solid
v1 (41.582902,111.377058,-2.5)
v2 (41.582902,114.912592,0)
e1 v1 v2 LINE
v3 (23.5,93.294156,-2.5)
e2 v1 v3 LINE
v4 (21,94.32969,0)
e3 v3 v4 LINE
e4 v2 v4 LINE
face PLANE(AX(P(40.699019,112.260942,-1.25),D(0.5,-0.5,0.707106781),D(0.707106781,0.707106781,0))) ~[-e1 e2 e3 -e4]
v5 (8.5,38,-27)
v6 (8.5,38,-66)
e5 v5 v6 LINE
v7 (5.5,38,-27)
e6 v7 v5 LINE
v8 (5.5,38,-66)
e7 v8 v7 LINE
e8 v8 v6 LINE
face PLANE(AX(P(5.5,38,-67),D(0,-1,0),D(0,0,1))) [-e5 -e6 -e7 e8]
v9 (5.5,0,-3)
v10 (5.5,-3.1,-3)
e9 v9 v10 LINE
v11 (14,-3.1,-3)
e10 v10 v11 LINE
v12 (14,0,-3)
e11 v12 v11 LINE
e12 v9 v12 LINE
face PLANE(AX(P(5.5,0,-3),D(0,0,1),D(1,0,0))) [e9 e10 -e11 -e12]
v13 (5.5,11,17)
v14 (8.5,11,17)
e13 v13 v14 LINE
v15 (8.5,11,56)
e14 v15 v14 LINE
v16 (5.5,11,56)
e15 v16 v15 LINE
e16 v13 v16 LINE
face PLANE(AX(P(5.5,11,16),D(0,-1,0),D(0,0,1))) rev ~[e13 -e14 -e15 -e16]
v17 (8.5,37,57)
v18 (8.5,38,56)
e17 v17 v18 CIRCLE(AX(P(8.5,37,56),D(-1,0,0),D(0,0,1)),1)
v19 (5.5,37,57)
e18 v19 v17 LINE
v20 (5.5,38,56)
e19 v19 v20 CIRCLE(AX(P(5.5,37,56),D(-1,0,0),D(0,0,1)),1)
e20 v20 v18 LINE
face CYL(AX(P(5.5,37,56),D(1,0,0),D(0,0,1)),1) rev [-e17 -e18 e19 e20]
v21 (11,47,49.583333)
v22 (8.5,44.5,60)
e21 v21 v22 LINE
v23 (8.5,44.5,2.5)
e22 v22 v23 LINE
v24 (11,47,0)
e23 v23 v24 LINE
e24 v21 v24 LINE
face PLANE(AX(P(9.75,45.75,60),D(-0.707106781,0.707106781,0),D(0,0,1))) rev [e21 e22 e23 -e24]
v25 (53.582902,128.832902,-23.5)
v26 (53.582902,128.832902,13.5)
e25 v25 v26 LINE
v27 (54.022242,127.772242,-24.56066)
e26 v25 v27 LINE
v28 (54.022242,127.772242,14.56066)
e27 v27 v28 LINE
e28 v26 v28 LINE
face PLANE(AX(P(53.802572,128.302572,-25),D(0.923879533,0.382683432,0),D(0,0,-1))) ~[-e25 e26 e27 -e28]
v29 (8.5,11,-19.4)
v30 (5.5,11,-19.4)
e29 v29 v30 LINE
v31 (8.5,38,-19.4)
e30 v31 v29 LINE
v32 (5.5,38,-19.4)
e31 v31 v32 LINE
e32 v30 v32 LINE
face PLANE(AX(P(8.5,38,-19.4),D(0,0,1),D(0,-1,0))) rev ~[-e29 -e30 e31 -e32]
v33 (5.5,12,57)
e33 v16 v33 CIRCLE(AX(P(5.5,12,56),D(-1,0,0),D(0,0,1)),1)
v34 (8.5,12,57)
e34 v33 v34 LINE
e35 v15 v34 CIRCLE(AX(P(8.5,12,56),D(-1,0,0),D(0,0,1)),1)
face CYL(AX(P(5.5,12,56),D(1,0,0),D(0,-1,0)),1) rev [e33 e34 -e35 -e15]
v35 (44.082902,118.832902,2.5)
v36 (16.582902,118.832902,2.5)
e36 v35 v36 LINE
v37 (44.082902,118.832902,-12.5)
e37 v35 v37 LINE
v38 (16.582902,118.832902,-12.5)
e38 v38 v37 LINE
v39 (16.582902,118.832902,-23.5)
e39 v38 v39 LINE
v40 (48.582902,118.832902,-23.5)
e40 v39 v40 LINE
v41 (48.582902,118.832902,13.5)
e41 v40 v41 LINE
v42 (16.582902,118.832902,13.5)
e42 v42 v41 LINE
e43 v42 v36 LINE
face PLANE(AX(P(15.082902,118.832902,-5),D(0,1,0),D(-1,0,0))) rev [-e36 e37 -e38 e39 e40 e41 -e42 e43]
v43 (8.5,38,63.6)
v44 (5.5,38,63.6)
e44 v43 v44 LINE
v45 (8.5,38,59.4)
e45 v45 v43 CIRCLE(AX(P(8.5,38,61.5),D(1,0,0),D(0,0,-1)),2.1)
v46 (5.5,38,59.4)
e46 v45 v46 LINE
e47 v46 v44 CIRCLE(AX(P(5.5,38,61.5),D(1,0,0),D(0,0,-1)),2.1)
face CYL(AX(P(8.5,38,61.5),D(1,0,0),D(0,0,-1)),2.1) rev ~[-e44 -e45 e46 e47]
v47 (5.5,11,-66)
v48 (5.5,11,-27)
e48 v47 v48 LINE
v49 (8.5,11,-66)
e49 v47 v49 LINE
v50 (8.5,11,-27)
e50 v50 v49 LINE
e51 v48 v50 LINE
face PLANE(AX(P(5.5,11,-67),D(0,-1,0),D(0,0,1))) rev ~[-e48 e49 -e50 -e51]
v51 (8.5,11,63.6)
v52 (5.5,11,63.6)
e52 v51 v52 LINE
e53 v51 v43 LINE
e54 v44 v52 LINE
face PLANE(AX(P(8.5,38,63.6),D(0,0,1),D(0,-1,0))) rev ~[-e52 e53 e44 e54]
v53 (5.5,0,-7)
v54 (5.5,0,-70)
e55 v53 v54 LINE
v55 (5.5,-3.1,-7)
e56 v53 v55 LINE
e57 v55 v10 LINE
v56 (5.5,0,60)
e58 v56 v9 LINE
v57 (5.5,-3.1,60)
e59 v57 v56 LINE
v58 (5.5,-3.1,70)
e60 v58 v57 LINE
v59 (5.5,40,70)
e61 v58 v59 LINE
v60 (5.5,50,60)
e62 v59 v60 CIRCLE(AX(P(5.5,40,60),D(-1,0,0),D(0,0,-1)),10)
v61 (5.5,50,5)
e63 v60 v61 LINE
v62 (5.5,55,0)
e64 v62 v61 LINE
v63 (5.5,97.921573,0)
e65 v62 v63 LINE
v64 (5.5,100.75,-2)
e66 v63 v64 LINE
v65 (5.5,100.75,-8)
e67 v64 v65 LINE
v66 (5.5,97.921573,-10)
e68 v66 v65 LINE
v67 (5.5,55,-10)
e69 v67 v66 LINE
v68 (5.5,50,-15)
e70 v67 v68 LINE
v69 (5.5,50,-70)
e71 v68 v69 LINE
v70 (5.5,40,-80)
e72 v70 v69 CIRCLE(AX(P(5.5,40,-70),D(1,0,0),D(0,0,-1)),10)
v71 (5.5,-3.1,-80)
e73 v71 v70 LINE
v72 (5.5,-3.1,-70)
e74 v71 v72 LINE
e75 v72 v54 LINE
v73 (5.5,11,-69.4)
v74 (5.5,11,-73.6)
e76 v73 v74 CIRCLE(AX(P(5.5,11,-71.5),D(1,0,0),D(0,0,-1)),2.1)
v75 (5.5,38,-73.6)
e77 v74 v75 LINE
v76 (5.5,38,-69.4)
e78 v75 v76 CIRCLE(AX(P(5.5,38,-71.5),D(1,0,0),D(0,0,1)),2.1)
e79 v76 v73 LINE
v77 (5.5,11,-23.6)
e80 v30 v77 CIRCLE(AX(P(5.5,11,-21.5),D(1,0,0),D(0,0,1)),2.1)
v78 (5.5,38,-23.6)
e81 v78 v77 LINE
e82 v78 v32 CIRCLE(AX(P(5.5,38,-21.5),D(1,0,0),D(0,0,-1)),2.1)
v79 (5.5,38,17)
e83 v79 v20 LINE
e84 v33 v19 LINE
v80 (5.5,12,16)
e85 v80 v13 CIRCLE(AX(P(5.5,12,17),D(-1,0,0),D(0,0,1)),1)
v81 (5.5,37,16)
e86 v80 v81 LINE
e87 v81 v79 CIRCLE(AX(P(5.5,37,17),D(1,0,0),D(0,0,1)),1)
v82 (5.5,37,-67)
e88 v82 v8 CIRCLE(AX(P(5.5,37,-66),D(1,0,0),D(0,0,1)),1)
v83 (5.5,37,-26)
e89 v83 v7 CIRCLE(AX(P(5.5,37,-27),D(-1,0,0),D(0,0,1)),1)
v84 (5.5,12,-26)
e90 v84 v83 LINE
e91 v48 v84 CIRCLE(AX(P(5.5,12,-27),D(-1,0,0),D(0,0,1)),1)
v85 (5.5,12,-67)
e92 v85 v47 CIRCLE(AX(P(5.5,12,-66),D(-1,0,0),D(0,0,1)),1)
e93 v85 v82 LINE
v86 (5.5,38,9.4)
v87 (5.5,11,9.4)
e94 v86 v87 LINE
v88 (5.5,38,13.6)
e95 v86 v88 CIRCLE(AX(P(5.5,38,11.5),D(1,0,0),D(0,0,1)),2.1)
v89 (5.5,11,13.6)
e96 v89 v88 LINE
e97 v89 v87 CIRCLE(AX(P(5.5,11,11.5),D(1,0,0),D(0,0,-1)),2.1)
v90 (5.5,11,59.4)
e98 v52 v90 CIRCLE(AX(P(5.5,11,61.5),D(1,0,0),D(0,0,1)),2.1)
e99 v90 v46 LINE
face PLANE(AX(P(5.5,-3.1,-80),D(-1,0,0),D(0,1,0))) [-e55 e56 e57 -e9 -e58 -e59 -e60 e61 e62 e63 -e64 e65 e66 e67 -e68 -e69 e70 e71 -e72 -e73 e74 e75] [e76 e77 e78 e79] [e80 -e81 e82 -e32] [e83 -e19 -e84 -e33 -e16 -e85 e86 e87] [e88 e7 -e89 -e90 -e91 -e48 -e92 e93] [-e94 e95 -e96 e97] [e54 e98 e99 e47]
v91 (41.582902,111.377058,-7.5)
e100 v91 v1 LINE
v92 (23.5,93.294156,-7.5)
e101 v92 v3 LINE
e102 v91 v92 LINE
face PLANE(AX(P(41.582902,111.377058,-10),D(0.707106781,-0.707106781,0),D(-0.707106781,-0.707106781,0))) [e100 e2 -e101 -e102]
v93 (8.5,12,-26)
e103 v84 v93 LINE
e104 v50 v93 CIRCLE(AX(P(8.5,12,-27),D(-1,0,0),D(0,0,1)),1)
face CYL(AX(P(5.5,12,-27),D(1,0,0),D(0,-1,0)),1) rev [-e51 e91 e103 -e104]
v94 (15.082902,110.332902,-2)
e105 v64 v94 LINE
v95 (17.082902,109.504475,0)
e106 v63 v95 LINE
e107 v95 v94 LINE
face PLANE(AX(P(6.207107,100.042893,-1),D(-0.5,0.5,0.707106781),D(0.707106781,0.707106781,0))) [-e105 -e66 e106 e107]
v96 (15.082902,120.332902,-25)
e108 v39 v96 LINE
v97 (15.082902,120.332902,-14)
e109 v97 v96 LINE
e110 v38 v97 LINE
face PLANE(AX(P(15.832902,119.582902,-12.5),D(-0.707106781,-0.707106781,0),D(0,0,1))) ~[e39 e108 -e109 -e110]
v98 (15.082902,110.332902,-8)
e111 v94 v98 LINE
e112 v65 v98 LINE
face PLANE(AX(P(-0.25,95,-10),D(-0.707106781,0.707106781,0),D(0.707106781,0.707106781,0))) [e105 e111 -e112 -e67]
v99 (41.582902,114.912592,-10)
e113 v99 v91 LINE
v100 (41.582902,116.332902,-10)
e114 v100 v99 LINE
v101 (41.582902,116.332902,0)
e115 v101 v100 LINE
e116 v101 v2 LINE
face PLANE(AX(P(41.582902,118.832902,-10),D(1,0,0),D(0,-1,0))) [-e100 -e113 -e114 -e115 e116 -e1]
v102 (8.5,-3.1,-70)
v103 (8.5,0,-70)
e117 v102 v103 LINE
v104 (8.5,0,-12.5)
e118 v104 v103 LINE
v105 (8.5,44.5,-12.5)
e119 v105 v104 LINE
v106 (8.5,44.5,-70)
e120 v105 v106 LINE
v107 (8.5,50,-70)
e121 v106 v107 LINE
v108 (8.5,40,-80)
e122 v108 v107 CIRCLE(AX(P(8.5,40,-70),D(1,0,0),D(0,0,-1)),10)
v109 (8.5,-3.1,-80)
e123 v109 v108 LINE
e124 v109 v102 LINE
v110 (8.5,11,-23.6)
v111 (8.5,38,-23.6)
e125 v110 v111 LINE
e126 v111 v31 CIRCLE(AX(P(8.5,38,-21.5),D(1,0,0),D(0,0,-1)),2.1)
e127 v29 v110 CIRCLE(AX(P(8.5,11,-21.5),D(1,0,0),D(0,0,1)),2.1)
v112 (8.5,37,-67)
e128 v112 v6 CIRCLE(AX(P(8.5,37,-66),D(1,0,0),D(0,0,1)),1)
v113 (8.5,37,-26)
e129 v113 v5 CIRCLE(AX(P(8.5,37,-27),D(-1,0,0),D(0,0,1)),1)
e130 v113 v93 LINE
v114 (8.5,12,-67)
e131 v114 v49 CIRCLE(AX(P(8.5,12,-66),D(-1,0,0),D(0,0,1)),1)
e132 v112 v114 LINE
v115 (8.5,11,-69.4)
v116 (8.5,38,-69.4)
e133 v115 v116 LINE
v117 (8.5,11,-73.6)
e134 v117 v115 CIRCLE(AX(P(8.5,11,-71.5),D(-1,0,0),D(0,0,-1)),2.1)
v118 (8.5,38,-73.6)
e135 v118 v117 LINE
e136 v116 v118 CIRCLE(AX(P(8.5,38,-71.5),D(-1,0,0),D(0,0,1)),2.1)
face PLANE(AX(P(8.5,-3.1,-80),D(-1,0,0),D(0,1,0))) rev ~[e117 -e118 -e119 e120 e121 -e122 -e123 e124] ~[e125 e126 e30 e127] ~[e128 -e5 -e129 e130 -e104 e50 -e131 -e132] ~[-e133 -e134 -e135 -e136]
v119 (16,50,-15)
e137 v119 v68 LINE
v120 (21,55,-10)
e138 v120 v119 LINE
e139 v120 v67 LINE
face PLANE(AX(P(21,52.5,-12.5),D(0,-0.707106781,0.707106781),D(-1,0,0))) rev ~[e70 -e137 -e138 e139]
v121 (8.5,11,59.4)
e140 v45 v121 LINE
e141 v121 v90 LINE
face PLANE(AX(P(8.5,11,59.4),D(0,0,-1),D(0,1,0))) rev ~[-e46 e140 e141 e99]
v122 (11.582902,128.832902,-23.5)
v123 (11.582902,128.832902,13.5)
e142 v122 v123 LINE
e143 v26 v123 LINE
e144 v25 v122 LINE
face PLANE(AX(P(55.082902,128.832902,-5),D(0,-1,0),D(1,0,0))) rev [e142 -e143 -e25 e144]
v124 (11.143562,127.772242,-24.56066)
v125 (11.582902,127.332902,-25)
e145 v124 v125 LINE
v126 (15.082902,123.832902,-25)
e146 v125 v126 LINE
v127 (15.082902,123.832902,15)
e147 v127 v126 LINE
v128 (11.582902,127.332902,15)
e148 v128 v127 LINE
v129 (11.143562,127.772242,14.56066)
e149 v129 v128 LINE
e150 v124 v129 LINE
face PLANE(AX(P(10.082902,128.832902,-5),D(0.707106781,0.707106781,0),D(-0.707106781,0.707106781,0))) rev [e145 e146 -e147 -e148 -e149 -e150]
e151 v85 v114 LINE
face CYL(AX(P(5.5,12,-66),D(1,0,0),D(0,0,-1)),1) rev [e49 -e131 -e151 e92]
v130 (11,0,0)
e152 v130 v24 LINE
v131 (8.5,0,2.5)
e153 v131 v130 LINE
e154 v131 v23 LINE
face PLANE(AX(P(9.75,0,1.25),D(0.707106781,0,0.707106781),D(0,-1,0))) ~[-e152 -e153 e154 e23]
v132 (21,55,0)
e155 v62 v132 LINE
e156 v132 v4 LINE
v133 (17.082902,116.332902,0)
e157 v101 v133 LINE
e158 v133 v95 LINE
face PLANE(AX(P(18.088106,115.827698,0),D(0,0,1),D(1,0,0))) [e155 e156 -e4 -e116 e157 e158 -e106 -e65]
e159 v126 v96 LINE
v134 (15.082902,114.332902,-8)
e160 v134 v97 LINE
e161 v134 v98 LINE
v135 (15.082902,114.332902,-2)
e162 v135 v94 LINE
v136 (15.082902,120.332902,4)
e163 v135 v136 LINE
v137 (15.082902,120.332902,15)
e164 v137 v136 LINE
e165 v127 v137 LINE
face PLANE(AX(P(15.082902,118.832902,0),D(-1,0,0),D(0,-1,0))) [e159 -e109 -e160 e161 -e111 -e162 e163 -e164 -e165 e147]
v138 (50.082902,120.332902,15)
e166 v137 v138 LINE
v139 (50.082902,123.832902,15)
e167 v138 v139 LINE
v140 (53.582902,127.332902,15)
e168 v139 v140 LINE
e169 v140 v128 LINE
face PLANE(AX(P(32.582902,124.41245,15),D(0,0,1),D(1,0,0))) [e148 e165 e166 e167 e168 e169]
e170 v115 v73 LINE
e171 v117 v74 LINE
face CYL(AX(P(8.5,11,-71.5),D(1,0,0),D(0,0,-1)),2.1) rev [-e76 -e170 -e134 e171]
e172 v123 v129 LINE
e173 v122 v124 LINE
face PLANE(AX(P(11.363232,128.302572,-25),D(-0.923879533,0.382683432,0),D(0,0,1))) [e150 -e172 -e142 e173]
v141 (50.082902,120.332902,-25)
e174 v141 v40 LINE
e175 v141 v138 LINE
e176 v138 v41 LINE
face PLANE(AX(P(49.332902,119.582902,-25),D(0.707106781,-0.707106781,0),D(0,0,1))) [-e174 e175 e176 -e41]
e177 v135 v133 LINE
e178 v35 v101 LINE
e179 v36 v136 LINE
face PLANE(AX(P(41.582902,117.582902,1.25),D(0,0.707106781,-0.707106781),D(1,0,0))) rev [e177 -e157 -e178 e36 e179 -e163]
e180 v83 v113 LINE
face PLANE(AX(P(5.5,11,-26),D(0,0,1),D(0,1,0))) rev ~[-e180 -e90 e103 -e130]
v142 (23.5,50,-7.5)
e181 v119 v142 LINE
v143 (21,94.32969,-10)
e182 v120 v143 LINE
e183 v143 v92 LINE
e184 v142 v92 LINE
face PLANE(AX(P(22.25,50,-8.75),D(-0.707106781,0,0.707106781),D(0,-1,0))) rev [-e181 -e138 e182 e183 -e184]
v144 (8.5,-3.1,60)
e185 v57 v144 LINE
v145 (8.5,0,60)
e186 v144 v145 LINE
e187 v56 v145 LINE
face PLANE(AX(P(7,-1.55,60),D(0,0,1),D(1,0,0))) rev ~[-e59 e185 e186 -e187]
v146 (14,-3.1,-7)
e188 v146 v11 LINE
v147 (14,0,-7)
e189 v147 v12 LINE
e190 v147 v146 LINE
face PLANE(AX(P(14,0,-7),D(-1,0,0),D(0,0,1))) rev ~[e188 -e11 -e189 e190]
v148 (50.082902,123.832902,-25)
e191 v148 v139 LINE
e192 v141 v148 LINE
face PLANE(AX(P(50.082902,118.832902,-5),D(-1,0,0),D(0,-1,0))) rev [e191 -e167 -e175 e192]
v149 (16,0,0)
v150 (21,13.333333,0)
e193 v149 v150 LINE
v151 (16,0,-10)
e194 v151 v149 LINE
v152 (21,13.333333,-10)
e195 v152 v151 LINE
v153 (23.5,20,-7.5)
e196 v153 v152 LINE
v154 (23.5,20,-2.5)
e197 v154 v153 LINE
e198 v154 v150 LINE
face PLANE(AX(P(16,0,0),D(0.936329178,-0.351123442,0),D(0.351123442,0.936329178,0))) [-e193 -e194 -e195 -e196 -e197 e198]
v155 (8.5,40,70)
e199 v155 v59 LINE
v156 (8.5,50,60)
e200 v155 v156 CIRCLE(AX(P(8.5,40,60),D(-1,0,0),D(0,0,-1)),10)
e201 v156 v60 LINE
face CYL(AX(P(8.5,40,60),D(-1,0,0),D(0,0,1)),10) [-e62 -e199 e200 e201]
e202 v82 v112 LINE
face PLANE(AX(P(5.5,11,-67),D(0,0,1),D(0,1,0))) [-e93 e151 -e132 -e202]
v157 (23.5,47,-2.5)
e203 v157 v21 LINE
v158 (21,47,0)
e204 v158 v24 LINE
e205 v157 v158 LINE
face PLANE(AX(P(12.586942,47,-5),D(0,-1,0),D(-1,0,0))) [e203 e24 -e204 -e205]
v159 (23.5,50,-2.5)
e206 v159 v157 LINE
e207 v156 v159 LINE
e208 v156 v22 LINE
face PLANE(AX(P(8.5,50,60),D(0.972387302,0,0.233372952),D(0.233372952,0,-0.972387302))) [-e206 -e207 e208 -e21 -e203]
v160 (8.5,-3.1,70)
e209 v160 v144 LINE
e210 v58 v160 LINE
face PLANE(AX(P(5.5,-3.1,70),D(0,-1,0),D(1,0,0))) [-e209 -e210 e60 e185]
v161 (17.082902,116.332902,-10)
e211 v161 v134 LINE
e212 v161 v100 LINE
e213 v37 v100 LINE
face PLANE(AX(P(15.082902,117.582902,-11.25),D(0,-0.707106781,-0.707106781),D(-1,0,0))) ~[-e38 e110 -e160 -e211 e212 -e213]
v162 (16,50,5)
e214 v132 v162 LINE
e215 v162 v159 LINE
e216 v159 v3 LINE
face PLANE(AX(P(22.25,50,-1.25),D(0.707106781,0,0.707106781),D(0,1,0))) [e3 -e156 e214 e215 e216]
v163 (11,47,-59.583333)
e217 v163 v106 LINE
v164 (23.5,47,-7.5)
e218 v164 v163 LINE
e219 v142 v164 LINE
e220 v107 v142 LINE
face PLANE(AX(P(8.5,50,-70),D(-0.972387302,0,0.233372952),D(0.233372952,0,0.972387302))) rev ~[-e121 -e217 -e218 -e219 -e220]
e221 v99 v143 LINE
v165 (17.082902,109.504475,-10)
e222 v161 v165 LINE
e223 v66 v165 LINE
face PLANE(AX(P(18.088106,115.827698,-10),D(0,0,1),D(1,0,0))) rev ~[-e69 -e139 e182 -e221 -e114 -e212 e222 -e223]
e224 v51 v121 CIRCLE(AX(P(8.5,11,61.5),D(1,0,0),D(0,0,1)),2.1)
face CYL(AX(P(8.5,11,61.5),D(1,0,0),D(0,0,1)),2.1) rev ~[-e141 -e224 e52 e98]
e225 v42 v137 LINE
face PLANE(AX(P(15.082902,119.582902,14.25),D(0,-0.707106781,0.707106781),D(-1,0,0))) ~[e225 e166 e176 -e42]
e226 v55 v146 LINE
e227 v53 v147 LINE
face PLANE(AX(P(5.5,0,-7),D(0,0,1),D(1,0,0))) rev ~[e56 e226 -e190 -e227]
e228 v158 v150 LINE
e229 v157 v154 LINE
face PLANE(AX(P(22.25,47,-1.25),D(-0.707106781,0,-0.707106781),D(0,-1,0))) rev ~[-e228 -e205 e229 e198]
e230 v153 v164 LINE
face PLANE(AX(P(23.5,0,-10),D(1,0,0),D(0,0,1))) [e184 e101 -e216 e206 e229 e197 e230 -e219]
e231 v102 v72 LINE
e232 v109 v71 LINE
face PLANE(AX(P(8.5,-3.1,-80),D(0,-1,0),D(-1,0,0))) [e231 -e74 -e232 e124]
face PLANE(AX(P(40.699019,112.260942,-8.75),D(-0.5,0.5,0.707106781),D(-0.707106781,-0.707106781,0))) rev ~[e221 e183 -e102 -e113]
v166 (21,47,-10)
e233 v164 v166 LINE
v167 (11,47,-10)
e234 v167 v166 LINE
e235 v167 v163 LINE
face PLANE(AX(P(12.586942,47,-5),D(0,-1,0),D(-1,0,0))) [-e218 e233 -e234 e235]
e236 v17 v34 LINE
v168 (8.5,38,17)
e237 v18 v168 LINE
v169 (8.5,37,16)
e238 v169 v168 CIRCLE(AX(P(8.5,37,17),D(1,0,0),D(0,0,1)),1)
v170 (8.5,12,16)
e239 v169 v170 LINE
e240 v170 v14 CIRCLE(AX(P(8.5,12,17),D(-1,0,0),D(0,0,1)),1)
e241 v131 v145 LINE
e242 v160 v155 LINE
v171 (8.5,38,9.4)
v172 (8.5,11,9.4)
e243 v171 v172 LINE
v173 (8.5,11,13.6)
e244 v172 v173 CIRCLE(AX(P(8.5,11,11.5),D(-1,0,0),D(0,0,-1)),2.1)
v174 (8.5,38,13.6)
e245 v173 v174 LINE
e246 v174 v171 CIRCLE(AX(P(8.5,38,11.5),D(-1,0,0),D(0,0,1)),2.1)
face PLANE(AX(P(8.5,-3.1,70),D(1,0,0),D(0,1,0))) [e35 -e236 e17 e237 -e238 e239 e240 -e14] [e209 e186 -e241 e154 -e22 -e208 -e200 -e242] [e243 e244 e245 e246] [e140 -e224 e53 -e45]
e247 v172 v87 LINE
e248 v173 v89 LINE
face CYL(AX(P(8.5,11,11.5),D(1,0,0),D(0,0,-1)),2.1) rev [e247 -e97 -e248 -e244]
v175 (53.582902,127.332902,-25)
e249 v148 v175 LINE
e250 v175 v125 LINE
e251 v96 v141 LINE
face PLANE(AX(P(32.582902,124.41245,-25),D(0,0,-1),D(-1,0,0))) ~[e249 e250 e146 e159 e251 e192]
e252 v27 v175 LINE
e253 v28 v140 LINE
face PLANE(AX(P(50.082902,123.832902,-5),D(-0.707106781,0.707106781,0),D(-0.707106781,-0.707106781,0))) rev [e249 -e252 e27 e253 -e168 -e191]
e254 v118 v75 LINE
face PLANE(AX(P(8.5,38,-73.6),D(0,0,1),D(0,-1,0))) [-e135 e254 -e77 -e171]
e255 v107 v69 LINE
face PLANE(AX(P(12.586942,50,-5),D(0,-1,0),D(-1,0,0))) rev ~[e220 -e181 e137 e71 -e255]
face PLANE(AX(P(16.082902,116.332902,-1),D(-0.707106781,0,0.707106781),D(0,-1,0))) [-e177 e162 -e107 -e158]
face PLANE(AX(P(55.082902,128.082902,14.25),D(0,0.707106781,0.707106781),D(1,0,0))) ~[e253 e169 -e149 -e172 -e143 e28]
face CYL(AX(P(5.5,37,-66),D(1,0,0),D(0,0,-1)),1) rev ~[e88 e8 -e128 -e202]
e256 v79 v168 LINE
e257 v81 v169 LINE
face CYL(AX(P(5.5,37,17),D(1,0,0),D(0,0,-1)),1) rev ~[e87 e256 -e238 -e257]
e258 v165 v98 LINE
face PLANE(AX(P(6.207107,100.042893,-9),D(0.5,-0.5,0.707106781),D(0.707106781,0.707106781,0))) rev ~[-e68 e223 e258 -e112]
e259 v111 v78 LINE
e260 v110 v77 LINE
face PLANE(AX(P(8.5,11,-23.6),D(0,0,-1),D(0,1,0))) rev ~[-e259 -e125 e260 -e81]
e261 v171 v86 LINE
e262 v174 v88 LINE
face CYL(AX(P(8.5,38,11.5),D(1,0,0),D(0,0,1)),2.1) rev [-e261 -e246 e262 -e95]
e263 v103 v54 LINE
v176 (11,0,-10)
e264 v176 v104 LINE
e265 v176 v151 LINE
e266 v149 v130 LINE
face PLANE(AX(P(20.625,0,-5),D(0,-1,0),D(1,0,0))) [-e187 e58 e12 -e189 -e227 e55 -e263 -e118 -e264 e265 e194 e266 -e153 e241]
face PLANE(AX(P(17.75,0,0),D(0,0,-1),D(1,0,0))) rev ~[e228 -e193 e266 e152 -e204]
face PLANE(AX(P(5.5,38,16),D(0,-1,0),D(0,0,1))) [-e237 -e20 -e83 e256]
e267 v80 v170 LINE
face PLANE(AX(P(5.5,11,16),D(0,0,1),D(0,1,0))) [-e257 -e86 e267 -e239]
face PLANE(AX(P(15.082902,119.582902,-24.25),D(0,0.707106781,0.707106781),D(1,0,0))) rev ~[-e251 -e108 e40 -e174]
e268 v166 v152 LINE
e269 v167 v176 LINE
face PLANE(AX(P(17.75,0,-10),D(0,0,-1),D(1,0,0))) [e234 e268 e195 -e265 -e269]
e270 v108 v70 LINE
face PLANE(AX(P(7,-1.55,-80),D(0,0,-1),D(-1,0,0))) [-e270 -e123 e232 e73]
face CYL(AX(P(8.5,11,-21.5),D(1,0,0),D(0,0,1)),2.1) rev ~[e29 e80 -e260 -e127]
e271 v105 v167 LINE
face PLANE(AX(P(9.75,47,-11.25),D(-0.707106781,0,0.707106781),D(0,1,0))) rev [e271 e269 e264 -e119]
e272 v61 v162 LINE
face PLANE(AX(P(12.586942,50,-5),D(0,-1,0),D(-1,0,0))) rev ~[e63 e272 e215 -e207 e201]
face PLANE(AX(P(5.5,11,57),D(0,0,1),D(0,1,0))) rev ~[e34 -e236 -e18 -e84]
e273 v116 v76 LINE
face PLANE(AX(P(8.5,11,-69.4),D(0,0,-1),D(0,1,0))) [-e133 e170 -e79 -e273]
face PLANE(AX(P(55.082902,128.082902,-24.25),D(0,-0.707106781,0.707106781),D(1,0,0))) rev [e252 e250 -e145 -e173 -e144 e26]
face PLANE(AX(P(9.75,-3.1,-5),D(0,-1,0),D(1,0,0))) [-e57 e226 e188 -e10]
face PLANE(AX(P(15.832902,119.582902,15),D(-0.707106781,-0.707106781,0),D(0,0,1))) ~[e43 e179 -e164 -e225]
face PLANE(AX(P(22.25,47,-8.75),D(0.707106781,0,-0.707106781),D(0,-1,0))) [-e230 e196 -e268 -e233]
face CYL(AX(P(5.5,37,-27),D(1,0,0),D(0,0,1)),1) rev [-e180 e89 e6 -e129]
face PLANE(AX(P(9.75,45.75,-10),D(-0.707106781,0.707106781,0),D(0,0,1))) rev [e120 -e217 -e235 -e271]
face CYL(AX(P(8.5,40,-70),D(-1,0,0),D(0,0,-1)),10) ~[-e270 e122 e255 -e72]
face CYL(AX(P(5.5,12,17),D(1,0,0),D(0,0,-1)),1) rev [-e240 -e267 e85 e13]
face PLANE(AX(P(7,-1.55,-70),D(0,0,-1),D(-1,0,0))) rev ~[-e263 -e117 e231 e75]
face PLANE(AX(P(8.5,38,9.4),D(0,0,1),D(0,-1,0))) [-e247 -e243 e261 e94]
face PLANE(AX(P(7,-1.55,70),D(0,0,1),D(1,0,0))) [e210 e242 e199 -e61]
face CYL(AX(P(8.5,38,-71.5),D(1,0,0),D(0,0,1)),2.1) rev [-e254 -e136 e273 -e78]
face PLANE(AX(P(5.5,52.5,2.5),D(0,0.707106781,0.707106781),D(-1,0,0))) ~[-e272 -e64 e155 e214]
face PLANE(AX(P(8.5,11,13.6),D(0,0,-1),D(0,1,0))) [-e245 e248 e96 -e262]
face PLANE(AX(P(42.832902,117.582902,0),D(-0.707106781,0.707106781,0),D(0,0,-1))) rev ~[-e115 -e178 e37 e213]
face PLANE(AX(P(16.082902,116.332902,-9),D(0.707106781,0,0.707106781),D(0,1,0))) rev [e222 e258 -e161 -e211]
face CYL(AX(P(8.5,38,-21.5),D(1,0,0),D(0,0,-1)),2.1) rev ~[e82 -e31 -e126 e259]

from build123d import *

# Parameters (mm, degrees)
SKETCH_2_W              = 17.5
SKETCH_2_H              = 10
EXTRUDE_1_DEPTH         = 125
SKETCH_3_W              = 50
SKETCH_3_H              = 30
EXTRUDE_2_DEPTH         = 7.5
CHAMFER_1_SIZE          = 1
EXTRUDE_3_DEPTH         = 17.5
CHAMFER_2_SIZE          = 2
CHAMFER_3_SIZE          = 2
SKETCH_6_W              = 10
SKETCH_6_H              = 3
EXTRUDE_4_DEPTH         = 3.1
SKETCH_7_W              = 70
SKETCH_7_H              = 50
EXTRUDE_5_DEPTH         = 3.25
SKETCH_15_W             = 70
SKETCH_15_H             = 50
CUT_EXTRUDE_7_DEPTH     = 0.25
SKETCH_16_W             = 41
SKETCH_16_H             = 27
CUT_EXTRUDE_8_DEPTH     = 39.25
CHAMFER_7_SIZE          = 2
FILLET_1_R              = 1
FILLET_2_R              = 10
EXTRUDE_7_DEPTH         = 3
SKETCH_19_W             = 101.779204681
SKETCH_19_H             = 48.287293129
CUT_EXTRUDE_10_DEPTH    = 7.5
SKETCH_21_W             = 30
SKETCH_21_H             = 50
EXTRUDE_8_DEPTH         = 10
EXTRUDE_9_DEPTH         = 50
SKETCH_24_W             = 6
SKETCH_24_H             = 6
EXTRUDE_10_DEPTH        = 2
CUT_EXTRUDE_11_DEPTH    = 44
CHAMFER_9_SIZE          = 3
SKETCH_27_R             = 3.5
CUT_EXTRUDE_13_DEPTH    = 31
SKETCH_28_W             = 121.830720906
SKETCH_28_H             = 94.628612201
CUT_EXTRUDE_14_DEPTH    = 75
SKETCH_29_W             = 31.647498983
SKETCH_29_H             = 23.6528393
CUT_EXTRUDE_15_DEPTH    = 75
SKETCH_30_W             = 23.6528393
SKETCH_30_H             = 50
EXTRUDE_11_DEPTH        = 3
SKETCH_31_W             = 12.609658301
SKETCH_31_H             = 23.6528393
EXTRUDE_12_DEPTH        = 3
SKETCH_33_W             = 17.8
SKETCH_33_H             = 10
EXTRUDE_13_DEPTH        = 50
SKETCH_34_W             = 10
SKETCH_34_H             = 35
CUT_EXTRUDE_16_DEPTH    = 5.75
EXTRUDE_15_DEPTH        = 10
CUT_EXTRUDE_17_DEPTH    = 37
SKETCH_38_W             = 26
SKETCH_38_H             = 99.175
EXTRUDE_16_DEPTH        = 4
CHAMFER_11_SIZE         = 1
CHAMFER_11_EDGE_2_SIZE  = 1
CHAMFER_11_EDGE_3_SIZE2 = 0.707106781
CHAMFER_11_EDGE_3_SIZE  = 1
CHAMFER_11_EDGE_4_SIZE2 = 1
CHAMFER_11_EDGE_4_SIZE  = 0.707106781
SKETCH_40_W             = 14.8
SKETCH_40_H             = 10
CUT_EXTRUDE_18_DEPTH    = 180
SKETCH_41_W             = 58.425807109
SKETCH_41_H             = 132.043018415
CUT_EXTRUDE_19_DEPTH    = 180
SKETCH_43_W             = 42.288790166
SKETCH_43_H             = 33.906174504
CUT_EXTRUDE_20_DEPTH    = 180
SKETCH_44_W             = 60.210135913
SKETCH_44_H             = 20.917157606
CUT_EXTRUDE_21_DEPTH    = 180
SKETCH_45_W             = 2
SKETCH_45_H             = 38
CUT_EXTRUDE_22_DEPTH    = 180
SKETCH_46_W             = 19.341721819
SKETCH_46_H             = 130
CUT_EXTRUDE_23_DEPTH    = 3
EXTRUDE_17_DEPTH        = 3
SKETCH_48_W             = 15
SKETCH_48_H             = 10
CUT_EXTRUDE_24_DEPTH    = 7
SKETCH_50_W             = 23.75
SKETCH_50_H             = 10
EXTRUDE_18_DEPTH        = 90
EXTRUDE_19_DEPTH        = 10
SKETCH_53_W             = 5.75
SKETCH_53_H             = 10
EXTRUDE_20_DEPTH        = 106
SKETCH_55_W             = 5.75
SKETCH_55_H             = 10
CUT_EXTRUDE_25_DEPTH    = 106
EXTRUDE_21_DEPTH        = 20
CUT_EXTRUDE_26_DEPTH    = 20
EXTRUDE_22_DEPTH        = 10
CHAMFER_14_SIZE         = 2.5
CHAMFER_15_SIZE         = 2.5
CHAMFER_16_SIZE         = 1.5
CHAMFER_17_SIZE         = 1.5
CUT_EXTRUDE_27_DEPTH    = 10
CHAMFER_18_SIZE         = 5
SKETCH_62_W             = 2.25
SKETCH_62_H             = 3
EXTRUDE_24_DEPTH        = 3.1
SKETCH_63_W             = 1.75
SKETCH_63_H             = 3
CUT_EXTRUDE_28_DEPTH    = 3.1
SKETCH_64_W             = 10.5
SKETCH_64_H             = 3
CUT_EXTRUDE_29_DEPTH    = 3.1
CHAMFER_19_SIZE         = 2
SKETCH_65_W             = 3
SKETCH_65_H             = 3.1
EXTRUDE_25_DEPTH        = 10
SKETCH_66_W             = 3
SKETCH_66_H             = 3.1
EXTRUDE_26_DEPTH        = 10
SKETCH_67_W             = 8.5
SKETCH_67_H             = 4
EXTRUDE_27_DEPTH        = 3.1


with BuildPart() as part:
    # Sketch 2 → Extrude 1 (new body)
    with BuildSketch(Plane(origin=(0, 0, 0), x_dir=(1, 0, 0), z_dir=(0, 1, 0))):
        with Locations((8.75, 5)):
            Rectangle(SKETCH_2_W, SKETCH_2_H)
    extrude(amount=EXTRUDE_1_DEPTH)

    # Sketch 3 → Extrude 2 (add)
    with BuildSketch(Plane(origin=(0, 125, 0), x_dir=(1, 0, 0), z_dir=(0, 1, 0))):
        with Locations((8.75, 5)):
            Rectangle(SKETCH_3_W, SKETCH_3_H)
    extrude(amount=EXTRUDE_2_DEPTH)

    # Chamfer 1
    chamfer_1_edges = [part.edges().sort_by_distance(p)[0] for p in [
        (33.75, 132.5, -5),
        (8.75, 132.5, -20),
        (-16.25, 132.5, -5),
        (8.75, 132.5, 10),
    ]]
    chamfer(chamfer_1_edges, length=CHAMFER_1_SIZE)

    # Sketch 5 → Extrude 3 (add)
    with BuildSketch(Plane(origin=(17.5, 0, 0), x_dir=(0, 0, -1), z_dir=(1, 0, 0))):
        Polygon((10, 125), (20, 125), (10, 110), align=None)
        Polygon((0, 125), (-10, 125), (0, 110), align=None)
    extrude(amount=-EXTRUDE_3_DEPTH)

    # Chamfer 2
    chamfer_2_edges = [part.edges().sort_by_distance(p)[0] for p in [
        (-8.125, 125, -20),
        (33.75, 125, -5),
        (-16.25, 125, -5),
        (-8.125, 125, 10),
        (25.625, 125, -20),
        (25.625, 125, 10),
    ]]
    chamfer(chamfer_2_edges, length=CHAMFER_2_SIZE)

    # Chamfer 3
    chamfer_3_edges = [part.edges().sort_by_distance(p)[0] for p in [
        (0, 55, -10),
        (17.5, 55, -10),
        (17.5, 55, 0),
        (0, 55, 0),
    ]]
    chamfer(chamfer_3_edges, length=CHAMFER_3_SIZE)

    # Sketch 6 → Extrude 4 (add)
    with BuildSketch(Plane.XZ):
        with Locations((8.75, -5)):
            Rectangle(SKETCH_6_W, SKETCH_6_H)
    extrude(amount=EXTRUDE_4_DEPTH)

    # Sketch 7 → Extrude 5 (add)
    with BuildSketch(Plane.ZY.offset(-8.75)):
        with Locations((-45, 25)):
            Rectangle(SKETCH_7_W, SKETCH_7_H)
    extrude_5 = extrude(amount=EXTRUDE_5_DEPTH)

    # Mirror 1: Extrude 5 across plane
    add(extrude_5.mirror(Plane(origin=(0, 0, -5), x_dir=(1, 0, 0), z_dir=(0, 0, -1))))

    # Sketch 15 → Cut-Extrude 7 (cut)
    with BuildSketch(Plane(origin=(8.75, 0, 0), x_dir=(0, 0, -1), z_dir=(1, 0, 0))):
        with Locations((-35, 25)):
            Rectangle(SKETCH_15_W, SKETCH_15_H)
        with Locations((45, 25)):
            Rectangle(SKETCH_15_W, SKETCH_15_H)
    extrude(amount=-CUT_EXTRUDE_7_DEPTH, mode=Mode.SUBTRACT)

    # Sketch 16 → Cut-Extrude 8 (cut)
    with BuildSketch(Plane.ZY.offset(-5.5)):
        with Locations((-46.5, 24.5)):
            Rectangle(SKETCH_16_W, SKETCH_16_H)
        with Locations((36.5, 24.5)):
            Rectangle(SKETCH_16_W, SKETCH_16_H)
    extrude(amount=-CUT_EXTRUDE_8_DEPTH, mode=Mode.SUBTRACT)

    # Chamfer 7
    chamfer_7_edges = [part.edges().sort_by_distance(p)[0] for p in [
        (5.5, 25, -10),
        (5.5, 25, 0),
        (8.5, 25, 0),
        (8.5, 25, -10),
    ]]
    chamfer(chamfer_7_edges, length=CHAMFER_7_SIZE)

    # Fillet 1
    fillet_1_edges = [part.edges().sort_by_distance(p)[0] for p in [
        (7, 38, -26),
        (7, 11, -26),
        (7, 11, -67),
        (7, 38, -67),
        (7, 11, 16),
        (7, 38, 16),
        (7, 38, 57),
        (7, 11, 57),
    ]]
    fillet(fillet_1_edges, radius=FILLET_1_R)

    # Fillet 2
    fillet_2_edges = [part.edges().sort_by_distance(p)[0] for p in [
        (7, 50, -80),
        (7, 50, 70),
    ]]
    fillet(fillet_2_edges, radius=FILLET_2_R)

    # Sketch 17 → Extrude 7 (add)
    with BuildSketch(Plane(origin=(0, 50, 0), x_dir=(1, 0, 0), z_dir=(0, 1, 0))):
        Polygon((5.5, 70), (-9.5, 20), (-9.5, -10), (5.5, -60), align=None)
    extrude(amount=-EXTRUDE_7_DEPTH)

    # Sketch 19 → Cut-Extrude 10 (cut)
    with BuildSketch(Plane(origin=(0, 132.5, 0), x_dir=(1, 0, 0), z_dir=(0, 1, 0))):
        with Locations((10.051154605, 7.674595578)):
            Rectangle(SKETCH_19_W, SKETCH_19_H)
    extrude(amount=-CUT_EXTRUDE_10_DEPTH, mode=Mode.SUBTRACT)

    # Sketch 21 → Extrude 8 (add)
    with BuildSketch(Plane(origin=(0, 125, 0), x_dir=(1, 0, 0), z_dir=(0, 1, 0))):
        with Locations((8.75, 5)):
            Rectangle(SKETCH_21_W, SKETCH_21_H)
    extrude(amount=EXTRUDE_8_DEPTH)

    # Sketch 23 → Extrude 9 (add)
    with BuildSketch(Plane.XY.offset(20)):
        Polygon((23.75, 130), (23.75, 135), (28.75, 135), align=None)
        Polygon((-11.25, 135), (-6.25, 135), (-6.25, 130), align=None)
    extrude(amount=-EXTRUDE_9_DEPTH)

    # Sketch 24 → Extrude 10 (add)
    with BuildSketch(Plane.ZY):
        with Locations((-5, 3)):
            Rectangle(SKETCH_24_W, SKETCH_24_H)
    extrude(amount=EXTRUDE_10_DEPTH)

    # Sketch 25 → Cut-Extrude 11 (cut)
    with BuildSketch(Plane(origin=(8.5, 0, 0), x_dir=(0, 0, -1), z_dir=(1, 0, 0))):
        with BuildLine():
            Line((-13.6, 11), (-13.6, 38))
            ThreePointArc((-13.6, 38), (-11.5, 40.1), (-9.4, 38))
            Line((-9.4, 38), (-9.4, 11))
            ThreePointArc((-9.4, 11), (-11.5, 8.9), (-13.6, 11))
        make_face()
        with BuildLine():
            Line((-59.4, 11), (-59.4, 38))
            ThreePointArc((-59.4, 38), (-61.5, 40.1), (-63.6, 38))
            Line((-63.6, 38), (-63.6, 11))
            ThreePointArc((-63.6, 11), (-61.5, 8.9), (-59.4, 11))
        make_face()
        with BuildLine():
            Line((23.6, 11), (23.6, 38))
            ThreePointArc((23.6, 38), (21.5, 40.1), (19.4, 38))
            Line((19.4, 38), (19.4, 11))
            ThreePointArc((19.4, 11), (21.5, 8.9), (23.6, 11))
        make_face()
        with BuildLine():
            Line((69.4, 11), (69.4, 38))
            ThreePointArc((69.4, 38), (71.5, 40.1), (73.6, 38))
            Line((73.6, 38), (73.6, 11))
            ThreePointArc((73.6, 11), (71.5, 8.9), (69.4, 11))
        make_face()
    extrude(amount=-CUT_EXTRUDE_11_DEPTH, mode=Mode.SUBTRACT)

    # Chamfer 9
    chamfer_9_edges = [part.edges().sort_by_distance(p)[0] for p in [
        (17.5, 125, -5),
        (0, 125, -5),
    ]]
    chamfer(chamfer_9_edges, length=CHAMFER_9_SIZE)

    # Sketch 27 → Cut-Extrude 13 (cut)
    with BuildSketch(Plane.ZY):
        with Locations((-5, 115.5)):
            Circle(SKETCH_27_R)
    extrude(amount=-CUT_EXTRUDE_13_DEPTH, mode=Mode.SUBTRACT)

    # Sketch 28 → Cut-Extrude 14 (cut)
    with BuildSketch(Plane(origin=(0, 50, 0), x_dir=(1, 0, 0), z_dir=(0, 1, 0))):
        with Locations((13.662817894, 0.297507804)):
            Rectangle(SKETCH_28_W, SKETCH_28_H)
    extrude(amount=CUT_EXTRUDE_14_DEPTH, mode=Mode.SUBTRACT)

    # Sketch 29 → Cut-Extrude 15 (cut)
    with BuildSketch(Plane.XZ):
        with Locations((8.714091191, -5.118405237)):
            Rectangle(SKETCH_29_W, SKETCH_29_H)
    extrude(amount=-CUT_EXTRUDE_15_DEPTH, mode=Mode.SUBTRACT)

    # Sketch 30 → Extrude 11 (add)
    with BuildSketch(Plane(origin=(8.5, 0, 0), x_dir=(0, 0, -1), z_dir=(1, 0, 0))):
        with Locations((5.118405237, 25)):
            Rectangle(SKETCH_30_W, SKETCH_30_H)
    extrude(amount=-EXTRUDE_11_DEPTH)

    # Sketch 31 → Extrude 12 (add)
    with BuildSketch(Plane(origin=(0, 50, 0), x_dir=(1, 0, 0), z_dir=(0, 1, 0))):
        with Locations((-0.804829151, 5.118405237)):
            Rectangle(SKETCH_31_W, SKETCH_31_H)
    extrude(amount=-EXTRUDE_12_DEPTH)

    # Sketch 33 → Extrude 13 (add)
    with BuildSketch(Plane(origin=(0, 0, 0), x_dir=(1, 0, 0), z_dir=(0, 1, 0))):
        with Locations((8.65, 5)):
            Rectangle(SKETCH_33_W, SKETCH_33_H)
    extrude(amount=EXTRUDE_13_DEPTH)

    # Sketch 34 → Cut-Extrude 16 (cut)
    with BuildSketch(Plane.ZY.offset(0.25)):
        with Locations((-5, 29.5)):
            Rectangle(SKETCH_34_W, SKETCH_34_H)
    extrude(amount=-CUT_EXTRUDE_16_DEPTH, mode=Mode.SUBTRACT)

    # Sketch 36 → Extrude 15 (add)
    with BuildSketch(Plane.XY):
        Polygon((17.55, 0), (32.55, 0), (32.55, 125), (17.55, 125), (-6.25, 125), (17.55, 101.2), align=None)
    extrude(amount=-EXTRUDE_15_DEPTH)

    # Sketch 37 → Cut-Extrude 17 (cut)
    with BuildSketch(Plane.XY.offset(8)):
        Polygon((20.525, 0), (32.55, 0), (32.55, 12.025), align=None)
        Polygon((23.75, 125), (32.55, 116.2), (32.55, 125), align=None)
    extrude(amount=-CUT_EXTRUDE_17_DEPTH, mode=Mode.SUBTRACT)

    # Sketch 38 → Extrude 16 (add)
    with BuildSketch(Plane(origin=(28.55, 0, 0), x_dir=(0, 0, -1), z_dir=(1, 0, 0))):
        with Locations((5, 66.6125)):
            Rectangle(SKETCH_38_W, SKETCH_38_H)
    extrude(amount=EXTRUDE_16_DEPTH)

    # Chamfer 11
    chamfer_11_edges = [part.edges().sort_by_distance(p)[0] for p in [
        (8.75, 135, -30),
    ]]
    chamfer(chamfer_11_edges, length=CHAMFER_11_SIZE)

    # Chamfer 11 edge 2
    chamfer_11_edge_2_edges = [part.edges().sort_by_distance(p)[0] for p in [
        (8.75, 135, 20),
    ]]
    chamfer(chamfer_11_edge_2_edges, length=CHAMFER_11_EDGE_2_SIZE)

    # Chamfer 11 edge 3
    chamfer_11_edge_3_edges = [part.edges().sort_by_distance(p)[0] for p in [
        (28.75, 135, -5),
    ]]
    chamfer(chamfer_11_edge_3_edges, length=CHAMFER_11_EDGE_3_SIZE, length2=CHAMFER_11_EDGE_3_SIZE2)

    # Chamfer 11 edge 4
    chamfer_11_edge_4_edges = [part.edges().sort_by_distance(p)[0] for p in [
        (-11.25, 135, -5),
    ]]
    chamfer(chamfer_11_edge_4_edges, length=CHAMFER_11_EDGE_4_SIZE, length2=CHAMFER_11_EDGE_4_SIZE2)

    # Sketch 40 → Cut-Extrude 18 (cut)
    with BuildSketch(Plane.XZ):
        with Locations((25.15, -5)):
            Rectangle(SKETCH_40_W, SKETCH_40_H)
    extrude(amount=-CUT_EXTRUDE_18_DEPTH, mode=Mode.SUBTRACT)

    # Sketch 41 → Cut-Extrude 19 (cut)
    with BuildSketch(Plane.XY):
        with Locations((39.712903555, 78.021509208)):
            Rectangle(SKETCH_41_W, SKETCH_41_H)
    extrude(amount=-CUT_EXTRUDE_19_DEPTH, mode=Mode.SUBTRACT)

    # Sketch 43 → Cut-Extrude 20 (cut)
    with BuildSketch(Plane.XY.offset(8)):
        Polygon((28.55, 105.154838034), (28.55, 17.025), (32.55, 17.025), (32.55, 116.2), (28.55, 116.2), align=None)
        with Locations((7.405604917, 122.107925286)):
            Rectangle(SKETCH_43_W, SKETCH_43_H)
    extrude(amount=-CUT_EXTRUDE_20_DEPTH, mode=Mode.SUBTRACT)

    # Sketch 44 → Cut-Extrude 21 (cut)
    with BuildSketch(Plane(origin=(0, 0, 8), x_dir=(-1, 0, 0), z_dir=(0, 0, -1))):
        with Locations((-6.110520367, 129.607046371)):
            Rectangle(SKETCH_44_W, SKETCH_44_H)
    extrude(amount=-CUT_EXTRUDE_21_DEPTH, mode=Mode.SUBTRACT)

    # Sketch 45 → Cut-Extrude 22 (cut)
    with BuildSketch(Plane(origin=(0, 0, -10), x_dir=(-1, 0, 0), z_dir=(0, 0, -1))):
        with Locations((-9.5, 31)):
            Rectangle(SKETCH_45_W, SKETCH_45_H)
    extrude(amount=-CUT_EXTRUDE_22_DEPTH, mode=Mode.SUBTRACT)

    # Sketch 46 → Cut-Extrude 23 (cut)
    with BuildSketch(Plane(origin=(0, 50, 0), x_dir=(1, 0, 0), z_dir=(0, 1, 0))):
        with Locations((-4.170860909, 5)):
            Rectangle(SKETCH_46_W, SKETCH_46_H)
    extrude(amount=-CUT_EXTRUDE_23_DEPTH, mode=Mode.SUBTRACT)

    # Sketch 47 → Extrude 17 (add)
    with BuildSketch(Plane(origin=(0, 50, 0), x_dir=(1, 0, 0), z_dir=(0, 1, 0))):
        Polygon((8.5, 70), (23.5, 10), (23.5, 0), (8.5, -60), align=None)
    extrude(amount=-EXTRUDE_17_DEPTH)

    # Sketch 48 → Cut-Extrude 24 (cut)
    with BuildSketch(Plane(origin=(0, 12, 0), x_dir=(1, 0, 0), z_dir=(0, 1, 0))):
        with Locations((16, 5)):
            Rectangle(SKETCH_48_W, SKETCH_48_H)
    extrude(amount=-CUT_EXTRUDE_24_DEPTH, mode=Mode.SUBTRACT)

    # Sketch 50 → Extrude 18 (add)
    with BuildSketch(Plane(origin=(0, 5, 0), x_dir=(1, 0, 0), z_dir=(0, 1, 0))):
        with Locations((11.625, 5)):
            Rectangle(SKETCH_50_W, SKETCH_50_H)
    extrude(amount=EXTRUDE_18_DEPTH)

    # Sketch 52 → Extrude 19 (add)
    with BuildSketch(Plane(origin=(0, 0, -10), x_dir=(-1, 0, 0), z_dir=(0, 0, -1))):
        Polygon((0.25, 95), (-23.58290229, 118.83290229), (-41.58290229, 118.83290229), (-41.58290229, 111.377058167), (-23.5, 93.294155877), (-23.5, 95), align=None)
    extrude(amount=-EXTRUDE_19_DEPTH)

    # Sketch 53 → Extrude 20 (add)
    with BuildSketch(Plane.XZ):
        with Locations((20.625, -5)):
            Rectangle(SKETCH_53_W, SKETCH_53_H)
    extrude(amount=-EXTRUDE_20_DEPTH)

    # Sketch 55 → Cut-Extrude 25 (cut)
    with BuildSketch(Plane.XZ):
        with Locations((2.625, -5)):
            Rectangle(SKETCH_55_W, SKETCH_55_H)
    extrude(amount=-CUT_EXTRUDE_25_DEPTH, mode=Mode.SUBTRACT)

    # Sketch 56 → Extrude 21 (add)
    with BuildSketch(Plane.XY.offset(-5)):
        Polygon((15.08290229, 118.83290229), (50.08290229, 118.83290229), (50.08290229, 123.83290229), (55.08290229, 128.83290229), (47.58290229, 128.83290229), (15.08290229, 128.83290229), (10.08290229, 128.83290229), (15.08290229, 123.83290229), align=None)
    extrude_21 = extrude(amount=EXTRUDE_21_DEPTH)

    # Mirror 2: Extrude 21 across plane
    add(extrude_21.mirror(Plane.XY.offset(-5)))

    # Sketch 59 → Cut-Extrude 26 (cut)
    with BuildSketch(Plane.XY):
        Polygon((16, 0), (23.5, 20), (23.5, 0), align=None)
    extrude(amount=-CUT_EXTRUDE_26_DEPTH, mode=Mode.SUBTRACT)

    # Sketch 60 → Extrude 22 (add)
    with BuildSketch(Plane.XY):
        Polygon((15.08290229, 118.83290229), (15.08290229, 110.33290229), (23.58290229, 118.83290229), align=None)
    extrude(amount=-EXTRUDE_22_DEPTH)

    # Chamfer 14
    chamfer_14_edges = [part.edges().sort_by_distance(p)[0] for p in [
        (8.5, 47, -40),
        (8.5, 23.5, -10),
        (8.5, 47, 30),
        (23.5, 33.5, 0),
        (23.5, 33.5, -10),
        (23.5, 71.647077939, -10),
        (23.5, 71.647077939, 0),
        (32.541451145, 102.335607022, 0),
        (32.541451145, 102.335607022, -10),
        (8.5, 23.5, 0),
    ]]
    chamfer(chamfer_14_edges, length=CHAMFER_14_SIZE)

    # Chamfer 15
    chamfer_15_edges = [part.edges().sort_by_distance(p)[0] for p in [
        (28.33290229, 118.83290229, 0),
        (41.58290229, 118.83290229, -5),
        (28.33290229, 118.83290229, -10),
    ]]
    chamfer(chamfer_15_edges, length=CHAMFER_15_SIZE)

    # Chamfer 16
    chamfer_16_edges = [part.edges().sort_by_distance(p)[0] for p in [
        (10.08290229, 128.83290229, -5),
        (32.58290229, 128.83290229, 15),
        (55.08290229, 128.83290229, -5),
        (32.58290229, 128.83290229, -25),
    ]]
    chamfer(chamfer_16_edges, length=CHAMFER_16_SIZE)

    # Chamfer 17
    chamfer_17_edges = [part.edges().sort_by_distance(p)[0] for p in [
        (15.08290229, 118.83290229, 8.75),
        (50.08290229, 118.83290229, -5),
        (32.58290229, 118.83290229, 15),
        (32.58290229, 118.83290229, -25),
        (15.08290229, 118.83290229, -18.75),
    ]]
    chamfer(chamfer_17_edges, length=CHAMFER_17_SIZE)

    # Sketch 61 → Cut-Extrude 27 (cut)
    with BuildSketch(Plane(origin=(0, 50, 0), x_dir=(1, 0, 0), z_dir=(0, 1, 0))):
        Polygon((8.5, -60), (23.5, 2.5), (23.5, 0), align=None)
        Polygon((23.5, 10), (8.5, 70), (23.5, 7.5), align=None)
    extrude(amount=-CUT_EXTRUDE_27_DEPTH, mode=Mode.SUBTRACT)

    # Chamfer 18
    chamfer_18_edges = [part.edges().sort_by_distance(p)[0] for p in [
        (13.25, 50, -10),
        (13.25, 50, 0),
    ]]
    chamfer(chamfer_18_edges, length=CHAMFER_18_SIZE)

    # Sketch 62 → Extrude 24 (add)
    with BuildSketch(Plane.XZ):
        with Locations((14.875, -5)):
            Rectangle(SKETCH_62_W, SKETCH_62_H)
    extrude(amount=EXTRUDE_24_DEPTH)

    # Sketch 63 → Cut-Extrude 28 (cut)
    with BuildSketch(Plane.XZ.offset(3.1)):
        with Locations((4.625, -5)):
            Rectangle(SKETCH_63_W, SKETCH_63_H)
    extrude(amount=-CUT_EXTRUDE_28_DEPTH, mode=Mode.SUBTRACT)

    # Sketch 64 → Cut-Extrude 29 (cut)
    with BuildSketch(Plane.XZ.offset(3.1)):
        with Locations((10.75, -5)):
            Rectangle(SKETCH_64_W, SKETCH_64_H)
    extrude(amount=-CUT_EXTRUDE_29_DEPTH, mode=Mode.SUBTRACT)

    # Chamfer 19
    chamfer_19_edges = [part.edges().sort_by_distance(p)[0] for p in [
        (10.291451145, 105.541451145, -10),
        (10.291451145, 105.541451145, 0),
        (15.08290229, 113.33290229, -10),
        (15.08290229, 113.33290229, 0),
    ]]
    chamfer(chamfer_19_edges, length=CHAMFER_19_SIZE)

    # Sketch 65 → Extrude 25 (add)
    with BuildSketch(Plane.XY.offset(70)):
        with Locations((7, -1.55)):
            Rectangle(SKETCH_65_W, SKETCH_65_H)
    extrude(amount=-EXTRUDE_25_DEPTH)

    # Sketch 66 → Extrude 26 (add)
    with BuildSketch(Plane(origin=(0, 0, -80), x_dir=(-1, 0, 0), z_dir=(0, 0, -1))):
        with Locations((-7, -1.55)):
            Rectangle(SKETCH_66_W, SKETCH_66_H)
    extrude(amount=-EXTRUDE_26_DEPTH)

    # Sketch 67 → Extrude 27 (add)
    with BuildSketch(Plane.XZ):
        with Locations((9.75, -5)):
            Rectangle(SKETCH_67_W, SKETCH_67_H)
    extrude(amount=EXTRUDE_27_DEPTH)


solid = part.part
